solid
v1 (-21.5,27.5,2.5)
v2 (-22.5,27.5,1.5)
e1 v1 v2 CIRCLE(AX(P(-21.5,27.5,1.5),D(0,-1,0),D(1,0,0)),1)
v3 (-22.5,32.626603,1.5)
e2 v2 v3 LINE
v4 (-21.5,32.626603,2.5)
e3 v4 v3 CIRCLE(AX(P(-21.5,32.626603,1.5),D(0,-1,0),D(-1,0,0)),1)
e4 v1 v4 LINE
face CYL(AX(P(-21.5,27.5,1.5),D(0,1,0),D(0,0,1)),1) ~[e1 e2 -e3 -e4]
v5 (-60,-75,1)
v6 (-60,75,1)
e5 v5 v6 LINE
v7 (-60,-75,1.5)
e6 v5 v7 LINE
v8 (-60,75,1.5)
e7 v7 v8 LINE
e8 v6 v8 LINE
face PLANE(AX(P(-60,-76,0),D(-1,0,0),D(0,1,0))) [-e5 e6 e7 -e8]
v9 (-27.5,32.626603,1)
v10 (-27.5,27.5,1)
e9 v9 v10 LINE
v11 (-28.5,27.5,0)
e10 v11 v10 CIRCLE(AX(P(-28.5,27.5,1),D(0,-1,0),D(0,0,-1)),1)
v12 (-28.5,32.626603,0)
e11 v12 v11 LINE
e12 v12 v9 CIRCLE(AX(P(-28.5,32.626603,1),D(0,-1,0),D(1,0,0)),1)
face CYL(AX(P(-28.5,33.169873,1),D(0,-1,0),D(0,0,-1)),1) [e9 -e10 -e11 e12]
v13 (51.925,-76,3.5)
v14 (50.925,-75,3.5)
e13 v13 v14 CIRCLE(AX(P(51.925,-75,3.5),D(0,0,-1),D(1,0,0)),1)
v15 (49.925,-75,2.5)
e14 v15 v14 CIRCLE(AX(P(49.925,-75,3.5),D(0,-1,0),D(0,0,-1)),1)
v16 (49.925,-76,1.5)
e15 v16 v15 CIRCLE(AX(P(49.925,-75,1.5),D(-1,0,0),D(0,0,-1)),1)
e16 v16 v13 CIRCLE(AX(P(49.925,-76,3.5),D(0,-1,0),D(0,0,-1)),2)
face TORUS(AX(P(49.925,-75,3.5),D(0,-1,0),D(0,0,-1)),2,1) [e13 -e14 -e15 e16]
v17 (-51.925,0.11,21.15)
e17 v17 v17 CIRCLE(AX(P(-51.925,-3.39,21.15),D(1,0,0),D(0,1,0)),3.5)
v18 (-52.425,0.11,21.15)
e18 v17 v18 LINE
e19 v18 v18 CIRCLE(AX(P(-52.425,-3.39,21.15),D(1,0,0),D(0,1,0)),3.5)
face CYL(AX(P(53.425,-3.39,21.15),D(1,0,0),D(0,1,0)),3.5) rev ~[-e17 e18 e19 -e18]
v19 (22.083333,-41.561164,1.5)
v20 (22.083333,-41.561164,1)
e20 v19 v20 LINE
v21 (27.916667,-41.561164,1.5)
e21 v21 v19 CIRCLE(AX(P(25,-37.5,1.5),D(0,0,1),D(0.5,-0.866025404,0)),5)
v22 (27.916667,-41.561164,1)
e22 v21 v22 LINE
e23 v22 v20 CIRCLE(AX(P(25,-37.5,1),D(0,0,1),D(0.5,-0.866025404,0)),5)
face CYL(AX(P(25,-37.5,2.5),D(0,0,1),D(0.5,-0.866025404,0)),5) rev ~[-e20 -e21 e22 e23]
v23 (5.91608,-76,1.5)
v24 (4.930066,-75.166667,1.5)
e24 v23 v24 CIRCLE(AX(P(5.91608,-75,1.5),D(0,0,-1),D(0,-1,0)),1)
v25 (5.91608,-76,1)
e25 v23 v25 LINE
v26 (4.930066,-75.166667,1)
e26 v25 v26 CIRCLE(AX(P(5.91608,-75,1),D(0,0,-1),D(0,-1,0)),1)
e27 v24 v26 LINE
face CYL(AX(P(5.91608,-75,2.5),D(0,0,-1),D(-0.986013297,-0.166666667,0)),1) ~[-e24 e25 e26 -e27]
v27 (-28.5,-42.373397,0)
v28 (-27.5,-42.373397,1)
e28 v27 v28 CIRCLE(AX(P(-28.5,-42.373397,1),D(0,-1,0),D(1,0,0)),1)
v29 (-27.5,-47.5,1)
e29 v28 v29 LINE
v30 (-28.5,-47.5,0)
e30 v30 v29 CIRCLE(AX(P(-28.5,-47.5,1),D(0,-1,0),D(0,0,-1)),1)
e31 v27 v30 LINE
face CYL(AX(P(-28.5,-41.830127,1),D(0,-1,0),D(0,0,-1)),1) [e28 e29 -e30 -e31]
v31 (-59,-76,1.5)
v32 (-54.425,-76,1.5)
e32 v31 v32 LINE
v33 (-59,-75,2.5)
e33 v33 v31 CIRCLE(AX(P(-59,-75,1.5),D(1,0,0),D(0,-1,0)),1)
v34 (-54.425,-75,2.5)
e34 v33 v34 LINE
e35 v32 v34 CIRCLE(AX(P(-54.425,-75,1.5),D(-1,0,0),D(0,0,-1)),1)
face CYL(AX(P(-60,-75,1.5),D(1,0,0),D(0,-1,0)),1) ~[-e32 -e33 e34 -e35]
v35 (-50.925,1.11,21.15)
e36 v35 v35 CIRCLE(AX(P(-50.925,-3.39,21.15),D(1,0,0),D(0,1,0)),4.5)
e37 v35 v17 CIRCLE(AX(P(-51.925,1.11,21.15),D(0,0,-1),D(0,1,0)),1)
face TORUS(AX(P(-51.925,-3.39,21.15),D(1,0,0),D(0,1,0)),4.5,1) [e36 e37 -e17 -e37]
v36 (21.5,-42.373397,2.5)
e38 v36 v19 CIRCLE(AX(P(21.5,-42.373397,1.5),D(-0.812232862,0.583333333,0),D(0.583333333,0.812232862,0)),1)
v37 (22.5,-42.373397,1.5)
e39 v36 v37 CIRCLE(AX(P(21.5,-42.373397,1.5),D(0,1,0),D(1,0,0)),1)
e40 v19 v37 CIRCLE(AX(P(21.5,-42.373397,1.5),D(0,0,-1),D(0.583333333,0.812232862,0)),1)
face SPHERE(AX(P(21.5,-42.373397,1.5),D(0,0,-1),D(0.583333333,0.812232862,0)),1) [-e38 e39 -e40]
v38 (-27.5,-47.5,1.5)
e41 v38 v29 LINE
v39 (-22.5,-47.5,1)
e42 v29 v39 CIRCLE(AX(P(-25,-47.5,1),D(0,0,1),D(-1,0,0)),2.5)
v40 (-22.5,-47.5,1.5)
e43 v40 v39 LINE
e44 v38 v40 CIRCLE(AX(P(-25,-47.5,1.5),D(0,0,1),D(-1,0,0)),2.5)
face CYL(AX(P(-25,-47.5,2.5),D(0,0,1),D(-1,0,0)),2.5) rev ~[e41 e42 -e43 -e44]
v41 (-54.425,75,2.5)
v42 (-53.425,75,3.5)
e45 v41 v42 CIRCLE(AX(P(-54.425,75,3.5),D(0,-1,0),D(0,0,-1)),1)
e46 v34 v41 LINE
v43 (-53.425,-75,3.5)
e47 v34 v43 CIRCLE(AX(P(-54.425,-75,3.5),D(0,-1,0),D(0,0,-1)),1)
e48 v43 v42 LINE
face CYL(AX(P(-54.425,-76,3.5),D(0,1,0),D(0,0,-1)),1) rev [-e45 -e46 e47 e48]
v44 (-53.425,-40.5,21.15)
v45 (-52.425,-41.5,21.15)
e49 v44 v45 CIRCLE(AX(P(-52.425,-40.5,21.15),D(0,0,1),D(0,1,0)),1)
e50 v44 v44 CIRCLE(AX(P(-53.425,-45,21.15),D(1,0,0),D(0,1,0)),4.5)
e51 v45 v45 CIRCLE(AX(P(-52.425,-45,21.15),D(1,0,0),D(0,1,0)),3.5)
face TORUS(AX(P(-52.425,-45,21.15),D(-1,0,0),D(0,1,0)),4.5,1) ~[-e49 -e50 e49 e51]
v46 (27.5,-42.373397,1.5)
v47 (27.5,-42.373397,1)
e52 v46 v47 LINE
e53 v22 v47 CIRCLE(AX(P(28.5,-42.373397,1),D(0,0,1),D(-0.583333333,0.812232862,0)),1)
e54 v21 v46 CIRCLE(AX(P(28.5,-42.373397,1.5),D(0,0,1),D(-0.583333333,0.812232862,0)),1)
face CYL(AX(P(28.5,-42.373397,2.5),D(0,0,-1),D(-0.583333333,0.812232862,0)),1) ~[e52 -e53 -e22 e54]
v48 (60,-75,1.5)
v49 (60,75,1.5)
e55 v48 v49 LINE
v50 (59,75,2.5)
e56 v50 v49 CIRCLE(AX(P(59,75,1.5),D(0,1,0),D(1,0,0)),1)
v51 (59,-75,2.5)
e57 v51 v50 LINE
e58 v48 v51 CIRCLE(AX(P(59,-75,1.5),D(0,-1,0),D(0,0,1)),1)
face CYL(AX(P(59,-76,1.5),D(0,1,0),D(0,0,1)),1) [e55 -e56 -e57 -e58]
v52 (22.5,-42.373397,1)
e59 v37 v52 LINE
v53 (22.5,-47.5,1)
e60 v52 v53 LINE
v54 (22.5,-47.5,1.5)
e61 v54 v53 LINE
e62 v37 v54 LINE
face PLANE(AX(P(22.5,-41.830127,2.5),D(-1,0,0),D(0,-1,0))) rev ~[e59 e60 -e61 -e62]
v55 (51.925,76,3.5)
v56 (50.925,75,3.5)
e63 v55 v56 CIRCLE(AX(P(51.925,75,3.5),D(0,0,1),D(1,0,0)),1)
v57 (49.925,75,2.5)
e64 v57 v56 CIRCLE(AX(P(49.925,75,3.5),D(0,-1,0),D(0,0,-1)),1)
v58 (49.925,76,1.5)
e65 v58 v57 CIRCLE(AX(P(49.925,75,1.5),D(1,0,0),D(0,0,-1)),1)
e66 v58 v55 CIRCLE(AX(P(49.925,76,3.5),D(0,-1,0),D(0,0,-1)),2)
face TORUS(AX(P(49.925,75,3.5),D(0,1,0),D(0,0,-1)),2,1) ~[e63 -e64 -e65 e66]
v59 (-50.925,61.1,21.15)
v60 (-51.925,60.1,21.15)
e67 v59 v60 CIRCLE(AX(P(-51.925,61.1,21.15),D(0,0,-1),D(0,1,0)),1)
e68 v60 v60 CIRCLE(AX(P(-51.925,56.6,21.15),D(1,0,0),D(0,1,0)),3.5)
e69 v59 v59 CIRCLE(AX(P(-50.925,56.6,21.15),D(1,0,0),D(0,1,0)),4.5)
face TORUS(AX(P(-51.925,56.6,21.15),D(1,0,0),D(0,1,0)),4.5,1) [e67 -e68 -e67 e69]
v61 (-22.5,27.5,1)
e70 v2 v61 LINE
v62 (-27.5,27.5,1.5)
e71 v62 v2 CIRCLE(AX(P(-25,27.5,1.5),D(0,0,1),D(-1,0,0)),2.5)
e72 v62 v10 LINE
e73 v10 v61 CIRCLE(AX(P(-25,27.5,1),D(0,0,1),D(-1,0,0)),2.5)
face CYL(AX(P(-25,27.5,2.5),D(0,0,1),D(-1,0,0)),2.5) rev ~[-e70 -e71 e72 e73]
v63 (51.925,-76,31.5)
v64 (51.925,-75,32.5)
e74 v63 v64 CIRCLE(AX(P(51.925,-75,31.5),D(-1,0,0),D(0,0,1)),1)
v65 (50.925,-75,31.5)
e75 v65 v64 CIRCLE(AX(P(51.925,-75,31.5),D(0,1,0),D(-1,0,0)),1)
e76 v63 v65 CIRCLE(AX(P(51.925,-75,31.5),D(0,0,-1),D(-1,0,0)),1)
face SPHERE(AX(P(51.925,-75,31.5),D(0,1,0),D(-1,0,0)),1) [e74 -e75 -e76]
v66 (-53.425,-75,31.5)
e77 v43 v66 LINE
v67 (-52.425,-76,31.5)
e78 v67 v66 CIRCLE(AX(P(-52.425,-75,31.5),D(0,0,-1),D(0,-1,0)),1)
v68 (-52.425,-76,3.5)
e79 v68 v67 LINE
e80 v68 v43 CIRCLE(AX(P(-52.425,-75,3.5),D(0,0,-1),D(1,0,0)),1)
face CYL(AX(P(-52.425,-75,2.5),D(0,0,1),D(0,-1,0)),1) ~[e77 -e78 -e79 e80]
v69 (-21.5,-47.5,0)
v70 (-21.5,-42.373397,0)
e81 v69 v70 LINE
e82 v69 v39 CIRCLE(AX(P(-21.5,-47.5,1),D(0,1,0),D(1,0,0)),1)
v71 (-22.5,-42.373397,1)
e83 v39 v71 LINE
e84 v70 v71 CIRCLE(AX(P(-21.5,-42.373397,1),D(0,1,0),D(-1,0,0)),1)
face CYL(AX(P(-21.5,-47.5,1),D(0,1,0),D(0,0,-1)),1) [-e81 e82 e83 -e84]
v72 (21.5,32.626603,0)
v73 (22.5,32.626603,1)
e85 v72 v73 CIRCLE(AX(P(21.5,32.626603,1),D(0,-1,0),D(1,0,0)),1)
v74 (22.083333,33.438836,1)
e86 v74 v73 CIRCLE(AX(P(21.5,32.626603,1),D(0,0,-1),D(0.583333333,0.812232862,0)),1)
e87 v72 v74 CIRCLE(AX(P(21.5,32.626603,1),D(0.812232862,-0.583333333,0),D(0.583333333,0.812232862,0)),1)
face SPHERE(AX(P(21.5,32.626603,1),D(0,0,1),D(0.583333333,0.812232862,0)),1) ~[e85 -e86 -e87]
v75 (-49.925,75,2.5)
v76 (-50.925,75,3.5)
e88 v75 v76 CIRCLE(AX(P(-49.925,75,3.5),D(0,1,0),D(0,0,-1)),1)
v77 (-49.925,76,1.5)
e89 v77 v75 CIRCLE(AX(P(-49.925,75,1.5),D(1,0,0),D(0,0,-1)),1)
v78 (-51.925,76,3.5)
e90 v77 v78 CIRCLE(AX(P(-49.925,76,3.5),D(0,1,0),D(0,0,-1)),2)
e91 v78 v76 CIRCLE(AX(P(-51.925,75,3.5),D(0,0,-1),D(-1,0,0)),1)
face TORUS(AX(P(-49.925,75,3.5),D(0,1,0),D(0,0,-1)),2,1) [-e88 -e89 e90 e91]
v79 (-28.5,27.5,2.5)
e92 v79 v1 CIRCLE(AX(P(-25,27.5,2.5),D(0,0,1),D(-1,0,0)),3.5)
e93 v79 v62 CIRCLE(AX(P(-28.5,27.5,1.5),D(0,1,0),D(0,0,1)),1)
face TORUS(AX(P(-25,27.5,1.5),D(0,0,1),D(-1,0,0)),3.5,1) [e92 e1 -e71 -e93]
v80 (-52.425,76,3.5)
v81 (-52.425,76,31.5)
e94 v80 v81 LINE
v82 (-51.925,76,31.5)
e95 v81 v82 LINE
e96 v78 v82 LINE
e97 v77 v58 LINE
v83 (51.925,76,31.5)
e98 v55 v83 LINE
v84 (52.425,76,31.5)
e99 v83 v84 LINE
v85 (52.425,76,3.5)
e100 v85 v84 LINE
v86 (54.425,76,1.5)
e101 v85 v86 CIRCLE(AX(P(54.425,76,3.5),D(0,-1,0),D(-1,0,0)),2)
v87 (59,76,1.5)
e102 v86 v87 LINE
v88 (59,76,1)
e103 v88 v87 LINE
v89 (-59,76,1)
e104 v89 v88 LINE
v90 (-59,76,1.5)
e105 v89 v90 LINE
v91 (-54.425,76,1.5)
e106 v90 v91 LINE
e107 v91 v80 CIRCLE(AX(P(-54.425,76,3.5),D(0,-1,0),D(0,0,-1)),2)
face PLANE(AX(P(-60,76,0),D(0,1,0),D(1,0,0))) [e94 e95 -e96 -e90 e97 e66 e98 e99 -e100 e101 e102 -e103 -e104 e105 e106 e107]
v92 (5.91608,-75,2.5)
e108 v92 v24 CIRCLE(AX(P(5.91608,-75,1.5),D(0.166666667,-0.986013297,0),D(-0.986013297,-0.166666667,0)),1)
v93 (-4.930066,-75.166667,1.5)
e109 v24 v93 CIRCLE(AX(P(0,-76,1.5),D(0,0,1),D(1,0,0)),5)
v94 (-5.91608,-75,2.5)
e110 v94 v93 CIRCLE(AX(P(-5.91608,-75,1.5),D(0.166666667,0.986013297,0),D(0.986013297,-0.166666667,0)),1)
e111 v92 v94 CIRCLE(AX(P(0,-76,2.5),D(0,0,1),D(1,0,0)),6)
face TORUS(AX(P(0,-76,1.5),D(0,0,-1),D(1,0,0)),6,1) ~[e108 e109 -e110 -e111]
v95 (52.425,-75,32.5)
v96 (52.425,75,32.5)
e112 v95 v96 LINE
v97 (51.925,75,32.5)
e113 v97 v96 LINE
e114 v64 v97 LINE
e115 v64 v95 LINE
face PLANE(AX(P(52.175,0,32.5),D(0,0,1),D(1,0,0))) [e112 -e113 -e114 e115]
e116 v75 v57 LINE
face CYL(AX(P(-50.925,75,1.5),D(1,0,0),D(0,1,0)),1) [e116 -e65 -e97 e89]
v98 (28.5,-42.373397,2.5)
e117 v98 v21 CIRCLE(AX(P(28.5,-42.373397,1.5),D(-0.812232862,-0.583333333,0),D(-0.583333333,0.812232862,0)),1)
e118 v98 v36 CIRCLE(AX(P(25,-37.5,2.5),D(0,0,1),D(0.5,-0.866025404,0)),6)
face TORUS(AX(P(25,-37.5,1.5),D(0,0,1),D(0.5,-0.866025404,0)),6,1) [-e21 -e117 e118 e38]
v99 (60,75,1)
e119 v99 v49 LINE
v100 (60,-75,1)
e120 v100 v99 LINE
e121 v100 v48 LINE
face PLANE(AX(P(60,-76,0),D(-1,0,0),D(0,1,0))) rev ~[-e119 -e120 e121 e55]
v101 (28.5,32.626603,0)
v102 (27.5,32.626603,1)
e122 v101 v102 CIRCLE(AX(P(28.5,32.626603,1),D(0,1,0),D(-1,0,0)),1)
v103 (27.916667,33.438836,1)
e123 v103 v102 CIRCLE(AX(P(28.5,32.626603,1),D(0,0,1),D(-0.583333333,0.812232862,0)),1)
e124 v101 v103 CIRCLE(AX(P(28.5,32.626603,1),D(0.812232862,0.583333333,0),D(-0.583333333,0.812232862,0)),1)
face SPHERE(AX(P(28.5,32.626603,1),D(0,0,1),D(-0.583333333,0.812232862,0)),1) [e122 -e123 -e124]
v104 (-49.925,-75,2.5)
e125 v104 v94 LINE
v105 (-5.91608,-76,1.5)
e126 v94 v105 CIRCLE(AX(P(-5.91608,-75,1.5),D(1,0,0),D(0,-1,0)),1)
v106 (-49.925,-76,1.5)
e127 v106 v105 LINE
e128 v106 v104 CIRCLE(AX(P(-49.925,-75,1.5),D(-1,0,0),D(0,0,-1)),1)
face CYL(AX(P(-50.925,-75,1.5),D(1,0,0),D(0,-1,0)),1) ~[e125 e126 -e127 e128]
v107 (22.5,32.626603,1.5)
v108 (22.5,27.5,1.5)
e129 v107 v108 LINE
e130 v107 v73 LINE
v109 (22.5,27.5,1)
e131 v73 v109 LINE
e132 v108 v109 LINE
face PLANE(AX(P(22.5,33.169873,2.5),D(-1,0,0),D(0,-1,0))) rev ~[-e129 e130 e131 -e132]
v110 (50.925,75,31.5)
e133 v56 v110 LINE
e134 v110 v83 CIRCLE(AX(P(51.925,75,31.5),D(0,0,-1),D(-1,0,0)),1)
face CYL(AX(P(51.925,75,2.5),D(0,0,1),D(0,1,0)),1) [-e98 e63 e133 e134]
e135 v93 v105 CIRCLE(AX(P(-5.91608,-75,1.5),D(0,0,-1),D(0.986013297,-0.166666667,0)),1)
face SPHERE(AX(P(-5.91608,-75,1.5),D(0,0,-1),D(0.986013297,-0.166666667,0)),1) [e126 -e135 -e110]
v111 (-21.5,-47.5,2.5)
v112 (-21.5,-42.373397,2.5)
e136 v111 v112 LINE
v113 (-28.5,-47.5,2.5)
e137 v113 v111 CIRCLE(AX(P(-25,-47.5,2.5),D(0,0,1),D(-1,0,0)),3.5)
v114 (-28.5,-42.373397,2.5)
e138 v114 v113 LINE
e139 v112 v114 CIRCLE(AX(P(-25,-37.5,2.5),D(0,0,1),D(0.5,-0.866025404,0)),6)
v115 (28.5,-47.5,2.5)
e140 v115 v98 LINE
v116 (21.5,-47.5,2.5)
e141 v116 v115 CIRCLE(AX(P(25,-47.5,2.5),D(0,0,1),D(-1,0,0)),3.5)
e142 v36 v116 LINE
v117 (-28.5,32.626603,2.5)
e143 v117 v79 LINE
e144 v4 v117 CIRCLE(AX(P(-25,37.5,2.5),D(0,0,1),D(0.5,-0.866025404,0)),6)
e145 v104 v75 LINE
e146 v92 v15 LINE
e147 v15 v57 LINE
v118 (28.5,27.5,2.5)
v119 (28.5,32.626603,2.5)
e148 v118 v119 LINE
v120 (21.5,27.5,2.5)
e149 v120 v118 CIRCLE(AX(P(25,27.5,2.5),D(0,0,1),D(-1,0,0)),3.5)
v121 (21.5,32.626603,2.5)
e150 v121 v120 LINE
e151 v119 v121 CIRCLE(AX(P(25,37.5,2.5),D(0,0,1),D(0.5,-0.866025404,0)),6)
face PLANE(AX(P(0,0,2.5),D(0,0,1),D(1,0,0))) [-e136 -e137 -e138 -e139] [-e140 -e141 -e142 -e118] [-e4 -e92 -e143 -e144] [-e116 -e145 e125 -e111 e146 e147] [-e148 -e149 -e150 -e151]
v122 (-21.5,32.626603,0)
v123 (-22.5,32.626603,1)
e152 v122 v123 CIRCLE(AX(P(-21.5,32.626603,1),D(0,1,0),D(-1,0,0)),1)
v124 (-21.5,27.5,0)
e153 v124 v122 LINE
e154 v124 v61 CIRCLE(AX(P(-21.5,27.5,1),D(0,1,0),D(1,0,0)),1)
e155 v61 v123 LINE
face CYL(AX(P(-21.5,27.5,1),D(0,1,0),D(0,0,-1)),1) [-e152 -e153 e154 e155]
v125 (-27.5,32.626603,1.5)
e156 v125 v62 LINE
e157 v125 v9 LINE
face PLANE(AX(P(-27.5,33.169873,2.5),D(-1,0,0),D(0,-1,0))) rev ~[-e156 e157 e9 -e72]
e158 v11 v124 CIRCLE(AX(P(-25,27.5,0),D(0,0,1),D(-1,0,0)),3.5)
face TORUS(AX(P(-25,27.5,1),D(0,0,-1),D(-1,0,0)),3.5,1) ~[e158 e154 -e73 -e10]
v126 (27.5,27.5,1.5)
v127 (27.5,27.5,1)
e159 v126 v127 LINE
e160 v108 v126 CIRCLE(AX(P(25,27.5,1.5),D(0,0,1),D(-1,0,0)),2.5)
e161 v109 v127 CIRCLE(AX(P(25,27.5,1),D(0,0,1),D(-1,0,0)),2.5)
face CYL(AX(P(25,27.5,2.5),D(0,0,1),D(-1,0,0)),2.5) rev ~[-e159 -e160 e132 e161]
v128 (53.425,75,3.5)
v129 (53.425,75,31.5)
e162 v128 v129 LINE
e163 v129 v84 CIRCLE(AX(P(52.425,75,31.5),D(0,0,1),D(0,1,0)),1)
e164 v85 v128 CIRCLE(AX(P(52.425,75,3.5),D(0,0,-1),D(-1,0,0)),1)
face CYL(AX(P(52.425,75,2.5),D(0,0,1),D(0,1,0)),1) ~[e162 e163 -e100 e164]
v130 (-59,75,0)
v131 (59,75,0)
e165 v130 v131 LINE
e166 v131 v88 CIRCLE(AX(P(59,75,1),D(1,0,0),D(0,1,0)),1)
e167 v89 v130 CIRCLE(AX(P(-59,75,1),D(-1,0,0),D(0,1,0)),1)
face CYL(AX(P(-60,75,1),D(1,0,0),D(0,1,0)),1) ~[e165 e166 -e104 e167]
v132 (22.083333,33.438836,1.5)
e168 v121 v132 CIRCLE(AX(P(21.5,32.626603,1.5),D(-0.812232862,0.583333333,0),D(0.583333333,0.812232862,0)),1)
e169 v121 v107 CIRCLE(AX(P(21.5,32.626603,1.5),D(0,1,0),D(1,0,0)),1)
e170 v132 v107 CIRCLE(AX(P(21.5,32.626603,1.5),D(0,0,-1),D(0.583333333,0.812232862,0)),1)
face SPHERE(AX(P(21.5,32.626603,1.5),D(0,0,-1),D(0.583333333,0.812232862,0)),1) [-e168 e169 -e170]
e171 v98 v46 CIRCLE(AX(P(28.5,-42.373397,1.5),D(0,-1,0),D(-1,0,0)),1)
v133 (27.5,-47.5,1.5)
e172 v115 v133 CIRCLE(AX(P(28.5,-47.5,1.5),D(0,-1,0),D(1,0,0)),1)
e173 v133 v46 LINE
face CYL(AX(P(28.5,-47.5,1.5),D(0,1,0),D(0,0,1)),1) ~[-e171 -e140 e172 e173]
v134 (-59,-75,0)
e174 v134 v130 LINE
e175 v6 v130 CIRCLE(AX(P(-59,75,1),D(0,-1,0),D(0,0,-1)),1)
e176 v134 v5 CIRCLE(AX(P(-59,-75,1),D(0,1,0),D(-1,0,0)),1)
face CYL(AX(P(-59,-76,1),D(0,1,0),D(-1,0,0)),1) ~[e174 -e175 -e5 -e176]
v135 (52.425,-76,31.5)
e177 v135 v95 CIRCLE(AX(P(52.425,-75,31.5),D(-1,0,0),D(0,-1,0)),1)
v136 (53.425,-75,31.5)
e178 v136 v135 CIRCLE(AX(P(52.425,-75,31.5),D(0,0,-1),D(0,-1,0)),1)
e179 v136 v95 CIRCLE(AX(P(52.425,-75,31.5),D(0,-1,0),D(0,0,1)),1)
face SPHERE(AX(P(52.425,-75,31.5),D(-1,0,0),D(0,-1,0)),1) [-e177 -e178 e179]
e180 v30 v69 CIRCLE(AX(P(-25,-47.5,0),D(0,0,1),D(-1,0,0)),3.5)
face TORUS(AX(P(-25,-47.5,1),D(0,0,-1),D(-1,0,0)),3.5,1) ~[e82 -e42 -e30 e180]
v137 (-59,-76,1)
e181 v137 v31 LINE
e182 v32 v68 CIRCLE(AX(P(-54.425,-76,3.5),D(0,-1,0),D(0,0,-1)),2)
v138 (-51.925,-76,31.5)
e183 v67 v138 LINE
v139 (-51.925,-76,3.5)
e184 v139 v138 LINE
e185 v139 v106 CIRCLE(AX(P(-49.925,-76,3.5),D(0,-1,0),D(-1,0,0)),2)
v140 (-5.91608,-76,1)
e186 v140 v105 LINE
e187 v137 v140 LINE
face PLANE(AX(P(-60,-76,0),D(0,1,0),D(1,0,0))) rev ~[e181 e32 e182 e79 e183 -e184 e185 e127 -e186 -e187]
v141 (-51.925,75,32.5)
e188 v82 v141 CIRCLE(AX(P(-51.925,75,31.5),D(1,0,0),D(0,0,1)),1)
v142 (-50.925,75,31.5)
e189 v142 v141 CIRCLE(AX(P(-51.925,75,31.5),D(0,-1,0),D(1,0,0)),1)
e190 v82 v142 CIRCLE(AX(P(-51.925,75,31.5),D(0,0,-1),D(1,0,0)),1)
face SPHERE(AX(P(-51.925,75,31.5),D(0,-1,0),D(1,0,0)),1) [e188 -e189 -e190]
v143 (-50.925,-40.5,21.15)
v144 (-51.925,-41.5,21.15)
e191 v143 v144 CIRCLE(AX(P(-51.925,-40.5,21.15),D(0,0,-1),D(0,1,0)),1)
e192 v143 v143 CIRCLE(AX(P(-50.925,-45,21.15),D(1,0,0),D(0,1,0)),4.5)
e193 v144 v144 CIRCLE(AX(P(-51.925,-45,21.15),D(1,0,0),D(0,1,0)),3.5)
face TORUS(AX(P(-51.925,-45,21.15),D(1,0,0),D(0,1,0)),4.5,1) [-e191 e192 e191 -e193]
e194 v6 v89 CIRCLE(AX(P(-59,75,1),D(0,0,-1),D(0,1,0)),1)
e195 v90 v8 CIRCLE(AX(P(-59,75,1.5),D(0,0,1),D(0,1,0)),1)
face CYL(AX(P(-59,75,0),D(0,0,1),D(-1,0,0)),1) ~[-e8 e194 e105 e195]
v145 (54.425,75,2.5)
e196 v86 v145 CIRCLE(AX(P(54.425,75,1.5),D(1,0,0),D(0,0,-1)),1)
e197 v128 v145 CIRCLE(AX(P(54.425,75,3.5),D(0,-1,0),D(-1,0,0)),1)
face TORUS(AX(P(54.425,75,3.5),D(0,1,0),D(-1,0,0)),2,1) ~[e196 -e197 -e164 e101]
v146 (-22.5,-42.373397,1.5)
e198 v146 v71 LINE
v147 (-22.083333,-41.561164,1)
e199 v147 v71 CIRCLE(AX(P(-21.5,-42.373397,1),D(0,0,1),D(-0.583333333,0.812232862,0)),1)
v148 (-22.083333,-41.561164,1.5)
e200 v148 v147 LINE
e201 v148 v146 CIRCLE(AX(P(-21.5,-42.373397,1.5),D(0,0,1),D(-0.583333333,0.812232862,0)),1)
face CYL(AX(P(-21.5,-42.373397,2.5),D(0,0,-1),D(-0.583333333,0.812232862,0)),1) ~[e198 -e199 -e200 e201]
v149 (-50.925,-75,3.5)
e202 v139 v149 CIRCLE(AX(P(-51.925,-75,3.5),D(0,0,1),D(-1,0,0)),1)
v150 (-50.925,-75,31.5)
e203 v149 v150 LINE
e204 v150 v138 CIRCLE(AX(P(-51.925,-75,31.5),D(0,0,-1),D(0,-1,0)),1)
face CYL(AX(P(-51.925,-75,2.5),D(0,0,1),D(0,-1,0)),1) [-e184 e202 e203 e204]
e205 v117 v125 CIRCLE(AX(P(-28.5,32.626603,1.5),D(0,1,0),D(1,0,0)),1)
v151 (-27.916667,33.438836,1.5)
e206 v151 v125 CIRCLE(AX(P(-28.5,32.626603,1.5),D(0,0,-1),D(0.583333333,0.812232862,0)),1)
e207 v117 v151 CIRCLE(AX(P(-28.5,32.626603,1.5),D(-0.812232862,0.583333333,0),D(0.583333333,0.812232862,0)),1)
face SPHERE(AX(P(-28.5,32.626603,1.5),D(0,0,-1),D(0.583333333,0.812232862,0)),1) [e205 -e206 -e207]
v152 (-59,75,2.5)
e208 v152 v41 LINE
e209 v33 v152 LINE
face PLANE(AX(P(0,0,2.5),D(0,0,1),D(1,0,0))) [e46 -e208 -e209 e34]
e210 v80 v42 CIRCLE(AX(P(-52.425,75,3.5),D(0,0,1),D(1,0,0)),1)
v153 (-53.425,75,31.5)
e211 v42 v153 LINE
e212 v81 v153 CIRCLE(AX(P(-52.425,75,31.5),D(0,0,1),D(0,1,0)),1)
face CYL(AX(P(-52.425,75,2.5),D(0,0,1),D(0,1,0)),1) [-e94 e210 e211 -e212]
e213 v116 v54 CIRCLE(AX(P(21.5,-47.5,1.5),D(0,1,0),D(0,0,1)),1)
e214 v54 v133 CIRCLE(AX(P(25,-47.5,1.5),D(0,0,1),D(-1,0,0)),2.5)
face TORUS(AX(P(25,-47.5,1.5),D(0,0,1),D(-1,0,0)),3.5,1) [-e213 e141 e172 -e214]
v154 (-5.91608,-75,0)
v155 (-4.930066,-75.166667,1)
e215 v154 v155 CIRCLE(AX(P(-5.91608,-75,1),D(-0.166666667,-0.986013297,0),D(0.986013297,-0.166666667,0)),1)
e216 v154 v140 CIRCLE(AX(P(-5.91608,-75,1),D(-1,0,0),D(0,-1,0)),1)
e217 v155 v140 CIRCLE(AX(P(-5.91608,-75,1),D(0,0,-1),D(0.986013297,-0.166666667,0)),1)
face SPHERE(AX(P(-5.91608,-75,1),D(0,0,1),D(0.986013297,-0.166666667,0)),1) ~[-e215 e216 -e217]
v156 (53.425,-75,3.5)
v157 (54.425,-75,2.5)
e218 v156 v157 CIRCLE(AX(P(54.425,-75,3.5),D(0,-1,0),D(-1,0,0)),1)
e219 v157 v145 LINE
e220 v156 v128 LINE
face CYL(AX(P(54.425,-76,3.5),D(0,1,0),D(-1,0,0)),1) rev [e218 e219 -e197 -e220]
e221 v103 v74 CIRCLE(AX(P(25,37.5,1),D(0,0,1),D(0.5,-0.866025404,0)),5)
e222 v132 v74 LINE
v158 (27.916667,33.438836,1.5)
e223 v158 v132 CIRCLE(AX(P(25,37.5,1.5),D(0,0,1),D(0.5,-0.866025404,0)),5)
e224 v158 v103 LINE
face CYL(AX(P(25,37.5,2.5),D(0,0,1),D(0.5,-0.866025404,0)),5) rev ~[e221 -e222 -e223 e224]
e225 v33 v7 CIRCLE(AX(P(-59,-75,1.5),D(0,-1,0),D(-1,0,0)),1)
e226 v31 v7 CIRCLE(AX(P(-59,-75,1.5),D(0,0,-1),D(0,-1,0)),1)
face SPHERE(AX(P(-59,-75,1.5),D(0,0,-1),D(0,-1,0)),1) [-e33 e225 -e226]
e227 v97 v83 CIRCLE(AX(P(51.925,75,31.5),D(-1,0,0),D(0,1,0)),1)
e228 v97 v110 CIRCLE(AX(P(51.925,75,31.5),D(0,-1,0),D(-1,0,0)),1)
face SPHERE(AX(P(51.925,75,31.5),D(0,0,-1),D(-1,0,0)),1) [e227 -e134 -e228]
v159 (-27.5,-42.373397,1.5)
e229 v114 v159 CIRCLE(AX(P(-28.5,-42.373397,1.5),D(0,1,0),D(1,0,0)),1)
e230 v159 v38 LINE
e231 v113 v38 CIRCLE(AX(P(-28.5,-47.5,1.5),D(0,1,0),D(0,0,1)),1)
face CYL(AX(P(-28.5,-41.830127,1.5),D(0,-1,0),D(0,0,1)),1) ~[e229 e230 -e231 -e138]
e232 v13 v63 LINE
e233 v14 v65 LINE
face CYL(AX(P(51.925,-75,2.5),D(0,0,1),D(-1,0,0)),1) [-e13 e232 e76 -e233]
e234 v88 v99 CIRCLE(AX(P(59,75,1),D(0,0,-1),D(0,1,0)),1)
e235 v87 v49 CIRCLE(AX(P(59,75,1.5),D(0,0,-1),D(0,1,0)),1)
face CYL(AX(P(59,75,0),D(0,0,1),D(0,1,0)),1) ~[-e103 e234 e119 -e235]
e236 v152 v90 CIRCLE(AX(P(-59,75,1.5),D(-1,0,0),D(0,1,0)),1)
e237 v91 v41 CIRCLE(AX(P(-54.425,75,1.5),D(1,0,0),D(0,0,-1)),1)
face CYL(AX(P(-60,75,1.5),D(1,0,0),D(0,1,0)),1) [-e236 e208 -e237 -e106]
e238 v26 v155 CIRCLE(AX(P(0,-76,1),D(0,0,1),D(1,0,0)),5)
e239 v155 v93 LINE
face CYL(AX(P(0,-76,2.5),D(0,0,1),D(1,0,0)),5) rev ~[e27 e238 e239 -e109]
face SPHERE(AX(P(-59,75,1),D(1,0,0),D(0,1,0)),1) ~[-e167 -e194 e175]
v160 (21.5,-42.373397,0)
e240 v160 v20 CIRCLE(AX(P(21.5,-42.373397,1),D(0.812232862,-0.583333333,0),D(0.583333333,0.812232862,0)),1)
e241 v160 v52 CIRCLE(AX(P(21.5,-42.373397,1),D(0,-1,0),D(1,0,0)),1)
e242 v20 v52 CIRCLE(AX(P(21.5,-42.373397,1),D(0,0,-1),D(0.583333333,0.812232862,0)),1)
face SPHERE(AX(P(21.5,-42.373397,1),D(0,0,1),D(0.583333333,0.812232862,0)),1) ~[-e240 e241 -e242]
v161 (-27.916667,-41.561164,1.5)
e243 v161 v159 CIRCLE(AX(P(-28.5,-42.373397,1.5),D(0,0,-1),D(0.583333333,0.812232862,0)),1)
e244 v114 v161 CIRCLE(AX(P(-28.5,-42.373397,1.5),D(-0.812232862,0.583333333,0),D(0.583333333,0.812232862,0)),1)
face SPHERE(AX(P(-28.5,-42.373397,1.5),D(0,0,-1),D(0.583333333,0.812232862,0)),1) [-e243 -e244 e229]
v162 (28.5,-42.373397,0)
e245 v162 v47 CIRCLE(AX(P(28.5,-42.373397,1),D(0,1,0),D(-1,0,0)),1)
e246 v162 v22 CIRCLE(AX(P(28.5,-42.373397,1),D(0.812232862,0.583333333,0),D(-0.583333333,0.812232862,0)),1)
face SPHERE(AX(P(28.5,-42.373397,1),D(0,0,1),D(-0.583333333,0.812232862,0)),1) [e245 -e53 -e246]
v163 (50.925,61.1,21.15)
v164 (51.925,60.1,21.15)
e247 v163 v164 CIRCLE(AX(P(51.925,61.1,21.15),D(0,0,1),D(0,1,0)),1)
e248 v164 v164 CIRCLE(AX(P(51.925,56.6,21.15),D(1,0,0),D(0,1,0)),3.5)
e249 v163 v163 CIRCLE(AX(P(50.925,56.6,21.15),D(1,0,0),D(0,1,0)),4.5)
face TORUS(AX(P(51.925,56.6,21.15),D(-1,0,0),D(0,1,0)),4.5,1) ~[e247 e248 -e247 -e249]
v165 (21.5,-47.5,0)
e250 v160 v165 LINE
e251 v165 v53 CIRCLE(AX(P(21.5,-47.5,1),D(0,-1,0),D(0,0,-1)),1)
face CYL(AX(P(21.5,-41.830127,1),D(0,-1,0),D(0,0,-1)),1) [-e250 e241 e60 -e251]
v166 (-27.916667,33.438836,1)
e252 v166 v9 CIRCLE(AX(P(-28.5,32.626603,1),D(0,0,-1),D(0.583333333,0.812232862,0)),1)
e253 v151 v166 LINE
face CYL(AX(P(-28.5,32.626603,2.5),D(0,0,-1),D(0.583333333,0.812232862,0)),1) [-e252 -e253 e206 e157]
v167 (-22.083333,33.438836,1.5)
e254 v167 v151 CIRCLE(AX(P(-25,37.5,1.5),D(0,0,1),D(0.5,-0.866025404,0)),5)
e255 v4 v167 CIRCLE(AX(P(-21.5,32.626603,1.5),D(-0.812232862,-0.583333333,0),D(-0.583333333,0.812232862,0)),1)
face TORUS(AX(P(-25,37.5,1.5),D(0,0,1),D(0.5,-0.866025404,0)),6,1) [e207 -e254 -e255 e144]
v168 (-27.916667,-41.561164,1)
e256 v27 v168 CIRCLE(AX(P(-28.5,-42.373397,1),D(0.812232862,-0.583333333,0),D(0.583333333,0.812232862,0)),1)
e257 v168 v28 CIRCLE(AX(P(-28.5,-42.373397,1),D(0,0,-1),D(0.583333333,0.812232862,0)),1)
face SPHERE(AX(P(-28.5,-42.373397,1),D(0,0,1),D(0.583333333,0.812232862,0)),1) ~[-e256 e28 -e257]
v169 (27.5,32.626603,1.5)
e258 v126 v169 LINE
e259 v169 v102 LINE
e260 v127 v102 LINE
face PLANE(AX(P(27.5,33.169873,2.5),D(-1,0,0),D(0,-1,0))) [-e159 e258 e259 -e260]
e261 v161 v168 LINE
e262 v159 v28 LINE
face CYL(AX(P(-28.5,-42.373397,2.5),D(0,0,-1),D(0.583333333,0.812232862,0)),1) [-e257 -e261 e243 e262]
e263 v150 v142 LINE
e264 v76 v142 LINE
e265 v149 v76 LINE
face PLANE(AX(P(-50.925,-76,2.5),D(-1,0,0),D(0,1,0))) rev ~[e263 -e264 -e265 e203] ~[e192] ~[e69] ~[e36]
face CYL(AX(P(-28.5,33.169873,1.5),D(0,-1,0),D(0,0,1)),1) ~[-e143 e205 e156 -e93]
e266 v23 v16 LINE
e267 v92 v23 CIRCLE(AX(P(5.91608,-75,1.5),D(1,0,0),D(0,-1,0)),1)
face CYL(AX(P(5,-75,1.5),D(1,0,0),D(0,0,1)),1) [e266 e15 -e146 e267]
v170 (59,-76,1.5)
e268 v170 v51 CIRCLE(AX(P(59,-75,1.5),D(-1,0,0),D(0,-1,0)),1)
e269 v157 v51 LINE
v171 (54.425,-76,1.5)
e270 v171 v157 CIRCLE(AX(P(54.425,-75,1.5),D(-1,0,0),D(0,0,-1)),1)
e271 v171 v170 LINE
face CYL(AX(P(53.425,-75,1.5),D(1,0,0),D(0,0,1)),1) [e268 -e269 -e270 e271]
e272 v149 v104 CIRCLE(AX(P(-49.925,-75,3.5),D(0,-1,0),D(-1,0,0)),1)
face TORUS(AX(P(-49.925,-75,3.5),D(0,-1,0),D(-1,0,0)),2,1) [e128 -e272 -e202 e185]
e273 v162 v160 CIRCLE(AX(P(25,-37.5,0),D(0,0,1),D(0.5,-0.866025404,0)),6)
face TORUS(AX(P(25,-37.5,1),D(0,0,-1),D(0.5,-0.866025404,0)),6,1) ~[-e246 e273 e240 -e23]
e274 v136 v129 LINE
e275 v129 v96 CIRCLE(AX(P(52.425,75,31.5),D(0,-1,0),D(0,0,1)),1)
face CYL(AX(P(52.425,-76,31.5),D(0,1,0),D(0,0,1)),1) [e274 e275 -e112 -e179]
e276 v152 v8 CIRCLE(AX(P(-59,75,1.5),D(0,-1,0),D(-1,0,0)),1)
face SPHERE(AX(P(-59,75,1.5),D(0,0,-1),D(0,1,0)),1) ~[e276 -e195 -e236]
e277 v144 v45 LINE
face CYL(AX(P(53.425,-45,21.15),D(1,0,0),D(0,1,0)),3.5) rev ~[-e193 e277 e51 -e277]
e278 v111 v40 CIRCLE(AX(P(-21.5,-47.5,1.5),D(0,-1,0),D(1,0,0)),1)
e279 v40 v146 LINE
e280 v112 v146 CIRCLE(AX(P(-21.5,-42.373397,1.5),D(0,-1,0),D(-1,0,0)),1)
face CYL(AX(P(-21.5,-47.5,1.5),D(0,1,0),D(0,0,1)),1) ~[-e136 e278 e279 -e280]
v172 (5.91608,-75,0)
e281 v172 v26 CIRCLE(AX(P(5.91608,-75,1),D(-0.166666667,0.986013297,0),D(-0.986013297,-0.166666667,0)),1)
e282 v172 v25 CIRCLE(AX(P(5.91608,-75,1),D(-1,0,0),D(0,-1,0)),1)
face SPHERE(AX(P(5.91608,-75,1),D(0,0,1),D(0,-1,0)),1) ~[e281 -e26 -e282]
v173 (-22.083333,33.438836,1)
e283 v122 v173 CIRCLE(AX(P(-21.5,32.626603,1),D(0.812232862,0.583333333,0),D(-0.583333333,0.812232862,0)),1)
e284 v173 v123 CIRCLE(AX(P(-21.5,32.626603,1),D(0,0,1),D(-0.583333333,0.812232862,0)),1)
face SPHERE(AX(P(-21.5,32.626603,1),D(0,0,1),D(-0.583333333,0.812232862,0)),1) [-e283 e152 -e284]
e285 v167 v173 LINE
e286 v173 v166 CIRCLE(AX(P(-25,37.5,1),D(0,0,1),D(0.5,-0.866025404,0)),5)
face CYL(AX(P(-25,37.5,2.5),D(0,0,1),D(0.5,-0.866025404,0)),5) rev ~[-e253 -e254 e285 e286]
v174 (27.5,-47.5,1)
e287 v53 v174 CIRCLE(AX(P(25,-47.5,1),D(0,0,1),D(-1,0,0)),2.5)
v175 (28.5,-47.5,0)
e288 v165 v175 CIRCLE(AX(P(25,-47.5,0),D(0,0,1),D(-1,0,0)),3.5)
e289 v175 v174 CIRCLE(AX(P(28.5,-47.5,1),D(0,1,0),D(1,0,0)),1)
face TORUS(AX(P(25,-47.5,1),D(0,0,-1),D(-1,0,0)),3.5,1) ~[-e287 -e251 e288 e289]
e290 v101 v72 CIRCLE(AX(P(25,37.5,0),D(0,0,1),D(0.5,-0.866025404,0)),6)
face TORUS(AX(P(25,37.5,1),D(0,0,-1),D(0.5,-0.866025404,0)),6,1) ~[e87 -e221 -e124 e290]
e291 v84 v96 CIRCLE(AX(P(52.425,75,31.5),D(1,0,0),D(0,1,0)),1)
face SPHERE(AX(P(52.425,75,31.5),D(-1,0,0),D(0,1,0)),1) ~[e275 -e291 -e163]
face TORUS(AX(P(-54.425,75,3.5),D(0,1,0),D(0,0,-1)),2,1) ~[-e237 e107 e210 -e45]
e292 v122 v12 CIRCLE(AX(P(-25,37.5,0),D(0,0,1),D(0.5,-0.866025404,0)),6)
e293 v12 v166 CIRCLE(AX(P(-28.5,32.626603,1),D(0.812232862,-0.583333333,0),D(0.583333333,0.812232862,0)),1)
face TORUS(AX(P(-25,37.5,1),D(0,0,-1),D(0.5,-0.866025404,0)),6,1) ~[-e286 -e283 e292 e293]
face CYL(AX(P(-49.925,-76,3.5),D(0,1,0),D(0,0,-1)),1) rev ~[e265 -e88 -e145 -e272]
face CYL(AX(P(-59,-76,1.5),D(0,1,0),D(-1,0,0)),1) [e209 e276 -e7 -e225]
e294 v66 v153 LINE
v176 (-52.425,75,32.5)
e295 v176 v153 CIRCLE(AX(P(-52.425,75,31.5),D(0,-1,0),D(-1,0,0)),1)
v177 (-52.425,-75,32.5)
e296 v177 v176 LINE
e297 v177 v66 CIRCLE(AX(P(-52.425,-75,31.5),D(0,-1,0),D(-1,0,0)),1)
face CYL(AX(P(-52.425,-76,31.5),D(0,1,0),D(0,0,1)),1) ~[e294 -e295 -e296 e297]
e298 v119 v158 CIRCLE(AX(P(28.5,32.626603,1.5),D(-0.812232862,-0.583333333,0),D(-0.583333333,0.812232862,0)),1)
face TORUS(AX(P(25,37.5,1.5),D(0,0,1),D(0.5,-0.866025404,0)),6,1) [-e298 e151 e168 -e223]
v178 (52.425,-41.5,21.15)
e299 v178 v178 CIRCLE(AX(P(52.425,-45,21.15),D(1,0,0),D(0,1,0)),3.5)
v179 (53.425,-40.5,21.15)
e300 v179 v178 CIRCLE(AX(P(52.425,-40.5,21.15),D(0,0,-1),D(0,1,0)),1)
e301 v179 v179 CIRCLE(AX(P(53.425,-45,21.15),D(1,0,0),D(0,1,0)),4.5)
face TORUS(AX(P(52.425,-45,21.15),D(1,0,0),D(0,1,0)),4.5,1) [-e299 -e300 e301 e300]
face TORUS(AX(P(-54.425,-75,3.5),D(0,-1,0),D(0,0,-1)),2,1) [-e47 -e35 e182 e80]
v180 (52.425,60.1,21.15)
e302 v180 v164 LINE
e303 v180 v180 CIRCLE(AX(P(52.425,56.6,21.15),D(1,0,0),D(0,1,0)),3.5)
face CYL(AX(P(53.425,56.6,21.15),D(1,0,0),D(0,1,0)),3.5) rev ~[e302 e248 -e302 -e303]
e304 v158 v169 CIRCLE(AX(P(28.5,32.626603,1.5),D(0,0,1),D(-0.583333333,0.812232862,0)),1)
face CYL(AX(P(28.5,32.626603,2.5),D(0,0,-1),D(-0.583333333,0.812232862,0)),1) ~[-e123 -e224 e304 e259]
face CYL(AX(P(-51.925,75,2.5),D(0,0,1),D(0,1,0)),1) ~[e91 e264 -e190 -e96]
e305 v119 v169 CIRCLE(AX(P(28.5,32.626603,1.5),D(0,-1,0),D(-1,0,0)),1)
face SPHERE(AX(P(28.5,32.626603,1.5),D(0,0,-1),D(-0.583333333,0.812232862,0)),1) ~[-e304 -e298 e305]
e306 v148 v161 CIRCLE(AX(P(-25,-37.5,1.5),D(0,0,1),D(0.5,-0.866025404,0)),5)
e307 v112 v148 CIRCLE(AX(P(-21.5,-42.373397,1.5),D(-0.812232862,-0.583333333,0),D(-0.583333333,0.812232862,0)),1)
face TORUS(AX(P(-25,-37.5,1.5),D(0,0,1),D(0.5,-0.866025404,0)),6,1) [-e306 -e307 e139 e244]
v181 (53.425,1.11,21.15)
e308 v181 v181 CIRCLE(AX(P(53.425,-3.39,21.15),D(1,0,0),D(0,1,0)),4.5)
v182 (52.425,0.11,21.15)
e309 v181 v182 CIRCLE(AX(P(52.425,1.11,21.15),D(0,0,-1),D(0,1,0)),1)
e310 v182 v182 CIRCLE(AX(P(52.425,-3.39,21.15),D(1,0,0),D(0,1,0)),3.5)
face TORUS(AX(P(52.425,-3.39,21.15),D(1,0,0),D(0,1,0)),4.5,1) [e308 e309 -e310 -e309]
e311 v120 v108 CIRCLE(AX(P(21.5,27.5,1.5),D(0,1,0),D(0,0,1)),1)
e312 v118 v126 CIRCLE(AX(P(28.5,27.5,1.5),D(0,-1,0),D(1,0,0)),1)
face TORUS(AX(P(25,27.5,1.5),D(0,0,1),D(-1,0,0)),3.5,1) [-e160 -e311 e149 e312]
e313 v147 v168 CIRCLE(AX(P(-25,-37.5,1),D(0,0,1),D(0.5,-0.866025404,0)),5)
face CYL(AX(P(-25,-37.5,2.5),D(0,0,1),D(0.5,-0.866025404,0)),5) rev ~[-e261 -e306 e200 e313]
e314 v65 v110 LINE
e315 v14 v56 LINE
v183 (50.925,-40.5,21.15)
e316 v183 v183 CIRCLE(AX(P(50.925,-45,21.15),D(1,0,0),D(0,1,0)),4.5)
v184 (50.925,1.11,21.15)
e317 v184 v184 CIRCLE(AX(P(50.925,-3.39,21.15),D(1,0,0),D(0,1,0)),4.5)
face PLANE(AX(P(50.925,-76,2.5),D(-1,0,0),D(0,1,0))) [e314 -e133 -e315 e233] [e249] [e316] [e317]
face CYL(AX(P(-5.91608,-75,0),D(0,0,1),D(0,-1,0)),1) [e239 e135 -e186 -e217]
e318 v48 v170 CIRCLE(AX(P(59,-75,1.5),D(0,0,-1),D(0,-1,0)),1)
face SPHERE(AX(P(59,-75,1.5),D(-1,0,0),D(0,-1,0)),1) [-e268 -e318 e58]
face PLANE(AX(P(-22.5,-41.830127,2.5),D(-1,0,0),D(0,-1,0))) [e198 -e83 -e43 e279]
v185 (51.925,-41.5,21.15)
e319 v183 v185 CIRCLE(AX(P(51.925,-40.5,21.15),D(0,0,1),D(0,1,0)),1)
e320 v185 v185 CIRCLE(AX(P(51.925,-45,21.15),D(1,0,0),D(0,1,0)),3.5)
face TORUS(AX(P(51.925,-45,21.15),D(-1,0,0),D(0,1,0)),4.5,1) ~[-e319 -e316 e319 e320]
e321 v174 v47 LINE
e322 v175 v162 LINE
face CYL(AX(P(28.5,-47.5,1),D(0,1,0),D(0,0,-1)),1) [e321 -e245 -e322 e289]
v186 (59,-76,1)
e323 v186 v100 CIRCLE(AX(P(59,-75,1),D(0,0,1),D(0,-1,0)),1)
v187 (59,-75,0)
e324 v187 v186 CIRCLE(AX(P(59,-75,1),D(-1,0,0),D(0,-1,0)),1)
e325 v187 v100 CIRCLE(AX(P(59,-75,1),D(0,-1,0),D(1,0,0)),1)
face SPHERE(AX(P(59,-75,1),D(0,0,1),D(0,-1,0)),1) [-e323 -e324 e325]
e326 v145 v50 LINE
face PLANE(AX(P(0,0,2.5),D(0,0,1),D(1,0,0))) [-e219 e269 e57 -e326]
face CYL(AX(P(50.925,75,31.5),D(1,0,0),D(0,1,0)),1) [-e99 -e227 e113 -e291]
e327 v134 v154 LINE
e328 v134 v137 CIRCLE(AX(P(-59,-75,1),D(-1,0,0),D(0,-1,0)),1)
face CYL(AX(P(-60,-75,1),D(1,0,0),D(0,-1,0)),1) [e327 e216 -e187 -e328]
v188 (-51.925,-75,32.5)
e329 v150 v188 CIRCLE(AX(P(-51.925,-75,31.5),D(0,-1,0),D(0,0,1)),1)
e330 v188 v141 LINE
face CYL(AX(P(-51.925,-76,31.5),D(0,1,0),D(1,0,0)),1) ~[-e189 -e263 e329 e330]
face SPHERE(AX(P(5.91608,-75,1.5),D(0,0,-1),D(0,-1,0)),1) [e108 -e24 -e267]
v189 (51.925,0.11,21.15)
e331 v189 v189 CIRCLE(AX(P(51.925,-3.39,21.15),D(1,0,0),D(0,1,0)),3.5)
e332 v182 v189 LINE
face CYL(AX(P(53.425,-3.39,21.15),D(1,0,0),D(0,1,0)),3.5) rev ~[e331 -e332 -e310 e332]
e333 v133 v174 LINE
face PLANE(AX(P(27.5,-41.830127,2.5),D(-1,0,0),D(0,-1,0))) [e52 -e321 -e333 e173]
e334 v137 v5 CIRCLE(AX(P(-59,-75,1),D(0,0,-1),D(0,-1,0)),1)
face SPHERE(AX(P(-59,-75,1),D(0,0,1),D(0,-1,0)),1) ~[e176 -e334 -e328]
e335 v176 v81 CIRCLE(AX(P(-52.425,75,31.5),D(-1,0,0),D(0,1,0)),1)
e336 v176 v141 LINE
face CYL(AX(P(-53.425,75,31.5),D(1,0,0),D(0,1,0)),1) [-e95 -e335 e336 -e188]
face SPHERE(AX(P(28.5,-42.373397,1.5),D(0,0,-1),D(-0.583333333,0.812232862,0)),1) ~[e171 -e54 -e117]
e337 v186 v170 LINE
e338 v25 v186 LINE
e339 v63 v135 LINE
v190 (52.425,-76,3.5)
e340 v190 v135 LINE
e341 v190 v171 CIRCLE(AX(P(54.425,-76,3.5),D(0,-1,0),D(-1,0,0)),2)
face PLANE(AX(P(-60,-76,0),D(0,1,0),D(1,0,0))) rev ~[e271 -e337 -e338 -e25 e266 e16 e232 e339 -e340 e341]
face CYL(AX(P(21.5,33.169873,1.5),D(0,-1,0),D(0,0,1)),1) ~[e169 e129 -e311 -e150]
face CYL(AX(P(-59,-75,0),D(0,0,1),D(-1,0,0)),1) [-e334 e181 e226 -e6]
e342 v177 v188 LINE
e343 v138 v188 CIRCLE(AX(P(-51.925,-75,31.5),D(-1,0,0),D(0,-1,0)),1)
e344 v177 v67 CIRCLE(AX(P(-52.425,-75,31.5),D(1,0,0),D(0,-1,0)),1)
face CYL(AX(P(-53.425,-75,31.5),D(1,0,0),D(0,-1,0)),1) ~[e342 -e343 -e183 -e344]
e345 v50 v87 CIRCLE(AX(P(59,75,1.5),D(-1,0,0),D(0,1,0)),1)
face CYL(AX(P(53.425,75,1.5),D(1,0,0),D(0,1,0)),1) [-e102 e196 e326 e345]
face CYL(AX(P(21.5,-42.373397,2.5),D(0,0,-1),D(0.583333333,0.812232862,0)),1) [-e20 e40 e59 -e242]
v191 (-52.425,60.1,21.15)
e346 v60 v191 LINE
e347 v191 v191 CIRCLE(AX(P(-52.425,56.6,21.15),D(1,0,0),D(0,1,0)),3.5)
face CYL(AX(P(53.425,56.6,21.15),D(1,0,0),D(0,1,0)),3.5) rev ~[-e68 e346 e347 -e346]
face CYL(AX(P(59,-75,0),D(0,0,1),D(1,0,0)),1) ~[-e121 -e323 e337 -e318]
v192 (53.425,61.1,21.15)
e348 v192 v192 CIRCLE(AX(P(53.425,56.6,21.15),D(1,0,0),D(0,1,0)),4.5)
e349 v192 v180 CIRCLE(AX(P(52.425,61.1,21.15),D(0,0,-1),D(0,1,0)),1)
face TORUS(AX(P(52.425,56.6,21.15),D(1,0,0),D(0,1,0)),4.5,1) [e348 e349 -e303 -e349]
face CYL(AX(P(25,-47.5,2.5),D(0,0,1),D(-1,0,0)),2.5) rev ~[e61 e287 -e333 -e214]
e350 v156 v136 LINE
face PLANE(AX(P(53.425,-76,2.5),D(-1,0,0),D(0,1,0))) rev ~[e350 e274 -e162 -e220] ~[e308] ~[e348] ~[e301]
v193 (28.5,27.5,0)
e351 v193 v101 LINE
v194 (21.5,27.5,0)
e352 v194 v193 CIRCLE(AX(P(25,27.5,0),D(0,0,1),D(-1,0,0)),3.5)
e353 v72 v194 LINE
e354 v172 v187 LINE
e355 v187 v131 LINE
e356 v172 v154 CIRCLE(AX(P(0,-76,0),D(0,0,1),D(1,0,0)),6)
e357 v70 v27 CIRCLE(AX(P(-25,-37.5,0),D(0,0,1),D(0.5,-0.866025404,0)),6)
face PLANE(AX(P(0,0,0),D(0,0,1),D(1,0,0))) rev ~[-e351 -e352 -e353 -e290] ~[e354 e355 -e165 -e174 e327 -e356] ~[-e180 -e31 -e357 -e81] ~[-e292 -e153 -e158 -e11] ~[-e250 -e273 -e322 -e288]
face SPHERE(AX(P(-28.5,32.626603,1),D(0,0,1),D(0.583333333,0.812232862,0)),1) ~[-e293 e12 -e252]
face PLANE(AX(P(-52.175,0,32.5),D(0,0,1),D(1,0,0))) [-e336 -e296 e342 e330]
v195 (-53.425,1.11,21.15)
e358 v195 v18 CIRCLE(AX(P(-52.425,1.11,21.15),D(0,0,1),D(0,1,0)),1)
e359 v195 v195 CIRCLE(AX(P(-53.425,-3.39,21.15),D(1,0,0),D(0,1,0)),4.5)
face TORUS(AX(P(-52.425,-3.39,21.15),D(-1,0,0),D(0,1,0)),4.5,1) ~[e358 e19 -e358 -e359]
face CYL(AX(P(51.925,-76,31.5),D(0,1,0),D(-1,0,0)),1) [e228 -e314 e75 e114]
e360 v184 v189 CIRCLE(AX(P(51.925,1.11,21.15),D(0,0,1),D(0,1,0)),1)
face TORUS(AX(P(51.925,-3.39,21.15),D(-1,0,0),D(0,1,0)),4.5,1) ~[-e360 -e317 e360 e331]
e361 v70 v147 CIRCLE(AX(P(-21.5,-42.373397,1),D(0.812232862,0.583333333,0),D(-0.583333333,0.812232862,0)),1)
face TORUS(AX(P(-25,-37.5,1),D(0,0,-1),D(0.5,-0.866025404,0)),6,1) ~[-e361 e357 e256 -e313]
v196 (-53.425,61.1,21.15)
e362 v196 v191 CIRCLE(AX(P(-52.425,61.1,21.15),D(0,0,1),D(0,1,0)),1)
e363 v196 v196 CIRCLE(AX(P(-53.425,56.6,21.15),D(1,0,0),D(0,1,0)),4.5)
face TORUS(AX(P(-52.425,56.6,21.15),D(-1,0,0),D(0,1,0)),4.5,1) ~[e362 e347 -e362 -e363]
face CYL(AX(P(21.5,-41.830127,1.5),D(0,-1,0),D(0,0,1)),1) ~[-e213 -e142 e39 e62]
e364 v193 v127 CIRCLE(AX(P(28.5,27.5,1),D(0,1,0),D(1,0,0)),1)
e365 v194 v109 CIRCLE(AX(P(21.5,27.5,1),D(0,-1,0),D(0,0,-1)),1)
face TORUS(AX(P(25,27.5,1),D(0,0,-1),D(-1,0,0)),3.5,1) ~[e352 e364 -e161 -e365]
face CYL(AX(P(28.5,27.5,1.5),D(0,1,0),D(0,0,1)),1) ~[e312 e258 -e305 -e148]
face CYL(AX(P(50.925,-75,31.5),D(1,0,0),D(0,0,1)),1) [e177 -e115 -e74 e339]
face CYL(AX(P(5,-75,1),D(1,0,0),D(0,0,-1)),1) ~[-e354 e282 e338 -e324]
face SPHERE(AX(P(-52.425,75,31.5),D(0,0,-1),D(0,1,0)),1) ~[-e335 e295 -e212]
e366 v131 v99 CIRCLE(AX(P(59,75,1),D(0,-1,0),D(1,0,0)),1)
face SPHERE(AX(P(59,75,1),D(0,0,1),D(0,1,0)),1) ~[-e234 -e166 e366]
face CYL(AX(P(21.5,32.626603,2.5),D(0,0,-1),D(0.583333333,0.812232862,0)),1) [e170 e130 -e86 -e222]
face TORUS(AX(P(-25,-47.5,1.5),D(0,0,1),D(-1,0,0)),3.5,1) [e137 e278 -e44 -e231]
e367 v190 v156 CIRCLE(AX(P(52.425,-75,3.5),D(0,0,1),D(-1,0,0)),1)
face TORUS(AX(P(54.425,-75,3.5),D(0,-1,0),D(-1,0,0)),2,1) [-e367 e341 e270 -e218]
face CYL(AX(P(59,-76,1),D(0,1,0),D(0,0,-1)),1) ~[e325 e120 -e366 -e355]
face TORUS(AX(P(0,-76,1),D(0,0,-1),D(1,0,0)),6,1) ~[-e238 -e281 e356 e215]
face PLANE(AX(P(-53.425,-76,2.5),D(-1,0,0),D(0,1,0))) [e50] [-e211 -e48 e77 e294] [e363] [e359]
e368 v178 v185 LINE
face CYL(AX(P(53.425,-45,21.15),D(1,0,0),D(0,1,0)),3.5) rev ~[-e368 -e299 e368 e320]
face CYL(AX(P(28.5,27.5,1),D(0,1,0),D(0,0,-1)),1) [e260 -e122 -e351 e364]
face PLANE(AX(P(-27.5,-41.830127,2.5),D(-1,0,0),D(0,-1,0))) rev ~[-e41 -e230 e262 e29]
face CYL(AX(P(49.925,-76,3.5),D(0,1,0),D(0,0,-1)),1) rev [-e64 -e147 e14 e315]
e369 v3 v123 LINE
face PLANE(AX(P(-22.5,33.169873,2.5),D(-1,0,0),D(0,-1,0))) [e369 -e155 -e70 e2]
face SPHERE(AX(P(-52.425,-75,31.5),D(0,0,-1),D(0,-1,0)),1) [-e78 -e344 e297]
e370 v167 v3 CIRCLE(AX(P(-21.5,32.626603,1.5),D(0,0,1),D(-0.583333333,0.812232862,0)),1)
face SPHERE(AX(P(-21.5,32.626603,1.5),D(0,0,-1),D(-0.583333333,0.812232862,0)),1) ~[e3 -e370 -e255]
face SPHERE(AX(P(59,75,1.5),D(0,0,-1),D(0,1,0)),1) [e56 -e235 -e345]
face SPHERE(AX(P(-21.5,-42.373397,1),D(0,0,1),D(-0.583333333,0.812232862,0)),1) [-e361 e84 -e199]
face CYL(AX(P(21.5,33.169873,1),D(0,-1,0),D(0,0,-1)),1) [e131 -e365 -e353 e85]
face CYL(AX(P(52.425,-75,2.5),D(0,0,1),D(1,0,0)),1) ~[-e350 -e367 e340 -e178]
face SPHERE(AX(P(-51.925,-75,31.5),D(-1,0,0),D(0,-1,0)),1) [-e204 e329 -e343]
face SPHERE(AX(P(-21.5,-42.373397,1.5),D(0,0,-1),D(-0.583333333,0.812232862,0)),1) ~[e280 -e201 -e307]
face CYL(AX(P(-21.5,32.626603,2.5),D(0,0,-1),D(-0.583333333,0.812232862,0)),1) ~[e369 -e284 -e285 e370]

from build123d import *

# Parameters (mm, degrees)
SKETCH_W        = 120
SKETCH_H        = 152
PAD_DEPTH       = 2.5
SKETCH001_W     = 2.5
SKETCH001_H     = 152
PAD001_DEPTH    = 30
SKETCH002_R     = 3.5
POCKET_DEPTH    = 113.426
SKETCH003_R     = 5
POCKET001_DEPTH = 2.501
FILLET_R        = 1


with BuildPart() as part:
    # Sketch (on XY_Plane of Origin) → Pad (new body)
    with BuildSketch(Plane.XY):
        Rectangle(SKETCH_W, SKETCH_H)
    extrude(amount=PAD_DEPTH)

    # Sketch001 (on Face6 of Pad) → Pad001 (join)
    with BuildSketch(Plane.XY.offset(2.5)):
        with Locations((-52.175, 0)):
            Rectangle(SKETCH001_W, SKETCH001_H)
        with Locations((52.175, 0)):
            Rectangle(SKETCH001_W, SKETCH001_H)
    extrude(amount=PAD001_DEPTH)

    # Sketch002 (on Face10 of Pad001) → Pocket (cut, through all)
    with BuildSketch(Plane.YZ.offset(53.425)):
        with Locations((-45, 21.15)):
            Circle(SKETCH002_R)
        with Locations((-3.39, 21.15)):
            Circle(SKETCH002_R)
        with Locations((56.6, 21.15)):
            Circle(SKETCH002_R)
    extrude(amount=-POCKET_DEPTH, mode=Mode.SUBTRACT)

    # Sketch003 (on Face9 of Pocket) → Pocket001 (cut, through all)
    with BuildSketch(Plane.XY.offset(2.5)):
        with Locations((-25, 37.5)):
            Circle(SKETCH003_R)
        with Locations((25, 37.5)):
            Circle(SKETCH003_R)
        with Locations((25, -37.5)):
            Circle(SKETCH003_R)
        with Locations((-25, -37.5)):
            Circle(SKETCH003_R)
        with Locations((0, -76)):
            Circle(SKETCH003_R)
        with BuildLine():
            ThreePointArc((-22.5, 37.5), (-25, 40), (-27.5, 37.5))
            Line((-27.5, 37.5), (-27.5, 27.5))
            ThreePointArc((-27.5, 27.5), (-25, 25), (-22.5, 27.5))
            Line((-22.5, 37.5), (-22.5, 27.5))
        make_face()
        with BuildLine():
            ThreePointArc((27.5, 37.5), (25, 40), (22.5, 37.5))
            Line((22.5, 37.5), (22.5, 27.5))
            ThreePointArc((22.5, 27.5), (25, 25), (27.5, 27.5))
            Line((27.5, 37.5), (27.5, 27.5))
        make_face()
        with BuildLine():
            ThreePointArc((27.5, -37.5), (25, -35), (22.5, -37.5))
            Line((22.5, -37.5), (22.5, -47.5))
            ThreePointArc((22.5, -47.5), (25, -50), (27.5, -47.5))
            Line((27.5, -37.5), (27.5, -47.5))
        make_face()
        with BuildLine():
            ThreePointArc((-22.5, -37.5), (-25, -35), (-27.5, -37.5))
            Line((-27.5, -37.5), (-27.5, -47.5))
            ThreePointArc((-27.5, -47.5), (-25, -50), (-22.5, -47.5))
            Line((-22.5, -37.5), (-22.5, -47.5))
        make_face()
    extrude(amount=-POCKET001_DEPTH, mode=Mode.SUBTRACT)

    # Fillet
    fillet_edges = [part.edges().sort_by_distance(p)[0] for p in [
        (50.925, 0, 2.5),
        (27.9625, -76, 2.5),
        (0, -71, 2.5),
        (-27.9625, -76, 2.5),
        (-50.925, 0, 2.5),
        (0, 76, 2.5),
        (-20.669873, -40, 2.5),
        (-27.5, -33.169873, 2.5),
        (-27.5, -44.665064, 2.5),
        (-25, -50, 2.5),
        (-22.5, -44.665064, 2.5),
        (29.330127, -40, 2.5),
        (22.5, -33.169873, 2.5),
        (22.5, -44.665064, 2.5),
        (25, -50, 2.5),
        (27.5, -44.665064, 2.5),
        (-20.669873, 35, 2.5),
        (-27.5, 41.830127, 2.5),
        (-27.5, 30.334936, 2.5),
        (-25, 25, 2.5),
        (-22.5, 30.334936, 2.5),
        (29.330127, 35, 2.5),
        (22.5, 41.830127, 2.5),
        (22.5, 30.334936, 2.5),
        (25, 25, 2.5),
        (27.5, 30.334936, 2.5),
        (50.925, 76, 17.5),
        (50.925, 0, 32.5),
        (50.925, -76, 17.5),
        (50.925, 53.1, 21.15),
        (50.925, -6.89, 21.15),
        (50.925, -48.5, 21.15),
        (5, -76, 1.25),
        (52.175, -76, 32.5),
        (53.425, -76, 17.5),
        (56.7125, -76, 2.5),
        (60, -76, 1.25),
        (32.5, -76, 0),
        (-5, -76, 1.25),
        (0, -71, 0),
        (-60, -76, 1.25),
        (-56.7125, -76, 2.5),
        (-53.425, -76, 17.5),
        (-52.175, -76, 32.5),
        (-50.925, -76, 17.5),
        (-32.5, -76, 0),
        (-50.925, 0, 32.5),
        (-50.925, 76, 17.5),
        (-50.925, -48.5, 21.15),
        (-50.925, -6.89, 21.15),
        (-50.925, 53.1, 21.15),
        (60, 76, 1.25),
        (0, 76, 0),
        (-60, 76, 1.25),
        (-56.7125, 76, 2.5),
        (-53.425, 76, 17.5),
        (-52.175, 76, 32.5),
        (52.175, 76, 32.5),
        (53.425, 76, 17.5),
        (56.7125, 76, 2.5),
        (-27.5, -47.5, 1.25),
        (-27.5, -44.665064, 0),
        (-27.5, -41.830127, 1.25),
        (-22.5, -47.5, 1.25),
        (-25, -50, 0),
        (-22.5, -44.665064, 0),
        (-22.5, -41.830127, 1.25),
        (22.5, -47.5, 1.25),
        (22.5, -44.665064, 0),
        (22.5, -41.830127, 1.25),
        (27.5, -47.5, 1.25),
        (25, -50, 0),
        (27.5, -44.665064, 0),
        (27.5, -41.830127, 1.25),
        (-27.5, 27.5, 1.25),
        (-27.5, 30.334936, 0),
        (-27.5, 33.169873, 1.25),
        (-22.5, 27.5, 1.25),
        (-25, 25, 0),
        (-22.5, 30.334936, 0),
        (-22.5, 33.169873, 1.25),
        (22.5, 27.5, 1.25),
        (22.5, 30.334936, 0),
        (22.5, 33.169873, 1.25),
        (27.5, 27.5, 1.25),
        (25, 25, 0),
        (27.5, 30.334936, 0),
        (27.5, 33.169873, 1.25),
        (53.425, 0, 32.5),
        (53.425, 53.1, 21.15),
        (52.175, 60.1, 21.15),
        (53.425, -6.89, 21.15),
        (52.175, 0.11, 21.15),
        (53.425, -48.5, 21.15),
        (52.175, -41.5, 21.15),
        (53.425, 0, 2.5),
        (60, 0, 2.5),
        (60, 0, 0),
        (-60, 0, 0),
        (-20.669873, -40, 0),
        (-27.5, -33.169873, 0),
        (29.330127, -40, 0),
        (22.5, -33.169873, 0),
        (-20.669873, 35, 0),
        (-27.5, 41.830127, 0),
        (29.330127, 35, 0),
        (22.5, 41.830127, 0),
        (-60, 0, 2.5),
        (-53.425, 0, 2.5),
        (-53.425, 0, 32.5),
        (-53.425, 53.1, 21.15),
        (-53.425, -6.89, 21.15),
        (-53.425, -48.5, 21.15),
        (-52.175, -41.5, 21.15),
        (-52.175, 0.11, 21.15),
        (-52.175, 60.1, 21.15),
    ]]
    fillet(fillet_edges, radius=FILLET_R)


solid = part.part
